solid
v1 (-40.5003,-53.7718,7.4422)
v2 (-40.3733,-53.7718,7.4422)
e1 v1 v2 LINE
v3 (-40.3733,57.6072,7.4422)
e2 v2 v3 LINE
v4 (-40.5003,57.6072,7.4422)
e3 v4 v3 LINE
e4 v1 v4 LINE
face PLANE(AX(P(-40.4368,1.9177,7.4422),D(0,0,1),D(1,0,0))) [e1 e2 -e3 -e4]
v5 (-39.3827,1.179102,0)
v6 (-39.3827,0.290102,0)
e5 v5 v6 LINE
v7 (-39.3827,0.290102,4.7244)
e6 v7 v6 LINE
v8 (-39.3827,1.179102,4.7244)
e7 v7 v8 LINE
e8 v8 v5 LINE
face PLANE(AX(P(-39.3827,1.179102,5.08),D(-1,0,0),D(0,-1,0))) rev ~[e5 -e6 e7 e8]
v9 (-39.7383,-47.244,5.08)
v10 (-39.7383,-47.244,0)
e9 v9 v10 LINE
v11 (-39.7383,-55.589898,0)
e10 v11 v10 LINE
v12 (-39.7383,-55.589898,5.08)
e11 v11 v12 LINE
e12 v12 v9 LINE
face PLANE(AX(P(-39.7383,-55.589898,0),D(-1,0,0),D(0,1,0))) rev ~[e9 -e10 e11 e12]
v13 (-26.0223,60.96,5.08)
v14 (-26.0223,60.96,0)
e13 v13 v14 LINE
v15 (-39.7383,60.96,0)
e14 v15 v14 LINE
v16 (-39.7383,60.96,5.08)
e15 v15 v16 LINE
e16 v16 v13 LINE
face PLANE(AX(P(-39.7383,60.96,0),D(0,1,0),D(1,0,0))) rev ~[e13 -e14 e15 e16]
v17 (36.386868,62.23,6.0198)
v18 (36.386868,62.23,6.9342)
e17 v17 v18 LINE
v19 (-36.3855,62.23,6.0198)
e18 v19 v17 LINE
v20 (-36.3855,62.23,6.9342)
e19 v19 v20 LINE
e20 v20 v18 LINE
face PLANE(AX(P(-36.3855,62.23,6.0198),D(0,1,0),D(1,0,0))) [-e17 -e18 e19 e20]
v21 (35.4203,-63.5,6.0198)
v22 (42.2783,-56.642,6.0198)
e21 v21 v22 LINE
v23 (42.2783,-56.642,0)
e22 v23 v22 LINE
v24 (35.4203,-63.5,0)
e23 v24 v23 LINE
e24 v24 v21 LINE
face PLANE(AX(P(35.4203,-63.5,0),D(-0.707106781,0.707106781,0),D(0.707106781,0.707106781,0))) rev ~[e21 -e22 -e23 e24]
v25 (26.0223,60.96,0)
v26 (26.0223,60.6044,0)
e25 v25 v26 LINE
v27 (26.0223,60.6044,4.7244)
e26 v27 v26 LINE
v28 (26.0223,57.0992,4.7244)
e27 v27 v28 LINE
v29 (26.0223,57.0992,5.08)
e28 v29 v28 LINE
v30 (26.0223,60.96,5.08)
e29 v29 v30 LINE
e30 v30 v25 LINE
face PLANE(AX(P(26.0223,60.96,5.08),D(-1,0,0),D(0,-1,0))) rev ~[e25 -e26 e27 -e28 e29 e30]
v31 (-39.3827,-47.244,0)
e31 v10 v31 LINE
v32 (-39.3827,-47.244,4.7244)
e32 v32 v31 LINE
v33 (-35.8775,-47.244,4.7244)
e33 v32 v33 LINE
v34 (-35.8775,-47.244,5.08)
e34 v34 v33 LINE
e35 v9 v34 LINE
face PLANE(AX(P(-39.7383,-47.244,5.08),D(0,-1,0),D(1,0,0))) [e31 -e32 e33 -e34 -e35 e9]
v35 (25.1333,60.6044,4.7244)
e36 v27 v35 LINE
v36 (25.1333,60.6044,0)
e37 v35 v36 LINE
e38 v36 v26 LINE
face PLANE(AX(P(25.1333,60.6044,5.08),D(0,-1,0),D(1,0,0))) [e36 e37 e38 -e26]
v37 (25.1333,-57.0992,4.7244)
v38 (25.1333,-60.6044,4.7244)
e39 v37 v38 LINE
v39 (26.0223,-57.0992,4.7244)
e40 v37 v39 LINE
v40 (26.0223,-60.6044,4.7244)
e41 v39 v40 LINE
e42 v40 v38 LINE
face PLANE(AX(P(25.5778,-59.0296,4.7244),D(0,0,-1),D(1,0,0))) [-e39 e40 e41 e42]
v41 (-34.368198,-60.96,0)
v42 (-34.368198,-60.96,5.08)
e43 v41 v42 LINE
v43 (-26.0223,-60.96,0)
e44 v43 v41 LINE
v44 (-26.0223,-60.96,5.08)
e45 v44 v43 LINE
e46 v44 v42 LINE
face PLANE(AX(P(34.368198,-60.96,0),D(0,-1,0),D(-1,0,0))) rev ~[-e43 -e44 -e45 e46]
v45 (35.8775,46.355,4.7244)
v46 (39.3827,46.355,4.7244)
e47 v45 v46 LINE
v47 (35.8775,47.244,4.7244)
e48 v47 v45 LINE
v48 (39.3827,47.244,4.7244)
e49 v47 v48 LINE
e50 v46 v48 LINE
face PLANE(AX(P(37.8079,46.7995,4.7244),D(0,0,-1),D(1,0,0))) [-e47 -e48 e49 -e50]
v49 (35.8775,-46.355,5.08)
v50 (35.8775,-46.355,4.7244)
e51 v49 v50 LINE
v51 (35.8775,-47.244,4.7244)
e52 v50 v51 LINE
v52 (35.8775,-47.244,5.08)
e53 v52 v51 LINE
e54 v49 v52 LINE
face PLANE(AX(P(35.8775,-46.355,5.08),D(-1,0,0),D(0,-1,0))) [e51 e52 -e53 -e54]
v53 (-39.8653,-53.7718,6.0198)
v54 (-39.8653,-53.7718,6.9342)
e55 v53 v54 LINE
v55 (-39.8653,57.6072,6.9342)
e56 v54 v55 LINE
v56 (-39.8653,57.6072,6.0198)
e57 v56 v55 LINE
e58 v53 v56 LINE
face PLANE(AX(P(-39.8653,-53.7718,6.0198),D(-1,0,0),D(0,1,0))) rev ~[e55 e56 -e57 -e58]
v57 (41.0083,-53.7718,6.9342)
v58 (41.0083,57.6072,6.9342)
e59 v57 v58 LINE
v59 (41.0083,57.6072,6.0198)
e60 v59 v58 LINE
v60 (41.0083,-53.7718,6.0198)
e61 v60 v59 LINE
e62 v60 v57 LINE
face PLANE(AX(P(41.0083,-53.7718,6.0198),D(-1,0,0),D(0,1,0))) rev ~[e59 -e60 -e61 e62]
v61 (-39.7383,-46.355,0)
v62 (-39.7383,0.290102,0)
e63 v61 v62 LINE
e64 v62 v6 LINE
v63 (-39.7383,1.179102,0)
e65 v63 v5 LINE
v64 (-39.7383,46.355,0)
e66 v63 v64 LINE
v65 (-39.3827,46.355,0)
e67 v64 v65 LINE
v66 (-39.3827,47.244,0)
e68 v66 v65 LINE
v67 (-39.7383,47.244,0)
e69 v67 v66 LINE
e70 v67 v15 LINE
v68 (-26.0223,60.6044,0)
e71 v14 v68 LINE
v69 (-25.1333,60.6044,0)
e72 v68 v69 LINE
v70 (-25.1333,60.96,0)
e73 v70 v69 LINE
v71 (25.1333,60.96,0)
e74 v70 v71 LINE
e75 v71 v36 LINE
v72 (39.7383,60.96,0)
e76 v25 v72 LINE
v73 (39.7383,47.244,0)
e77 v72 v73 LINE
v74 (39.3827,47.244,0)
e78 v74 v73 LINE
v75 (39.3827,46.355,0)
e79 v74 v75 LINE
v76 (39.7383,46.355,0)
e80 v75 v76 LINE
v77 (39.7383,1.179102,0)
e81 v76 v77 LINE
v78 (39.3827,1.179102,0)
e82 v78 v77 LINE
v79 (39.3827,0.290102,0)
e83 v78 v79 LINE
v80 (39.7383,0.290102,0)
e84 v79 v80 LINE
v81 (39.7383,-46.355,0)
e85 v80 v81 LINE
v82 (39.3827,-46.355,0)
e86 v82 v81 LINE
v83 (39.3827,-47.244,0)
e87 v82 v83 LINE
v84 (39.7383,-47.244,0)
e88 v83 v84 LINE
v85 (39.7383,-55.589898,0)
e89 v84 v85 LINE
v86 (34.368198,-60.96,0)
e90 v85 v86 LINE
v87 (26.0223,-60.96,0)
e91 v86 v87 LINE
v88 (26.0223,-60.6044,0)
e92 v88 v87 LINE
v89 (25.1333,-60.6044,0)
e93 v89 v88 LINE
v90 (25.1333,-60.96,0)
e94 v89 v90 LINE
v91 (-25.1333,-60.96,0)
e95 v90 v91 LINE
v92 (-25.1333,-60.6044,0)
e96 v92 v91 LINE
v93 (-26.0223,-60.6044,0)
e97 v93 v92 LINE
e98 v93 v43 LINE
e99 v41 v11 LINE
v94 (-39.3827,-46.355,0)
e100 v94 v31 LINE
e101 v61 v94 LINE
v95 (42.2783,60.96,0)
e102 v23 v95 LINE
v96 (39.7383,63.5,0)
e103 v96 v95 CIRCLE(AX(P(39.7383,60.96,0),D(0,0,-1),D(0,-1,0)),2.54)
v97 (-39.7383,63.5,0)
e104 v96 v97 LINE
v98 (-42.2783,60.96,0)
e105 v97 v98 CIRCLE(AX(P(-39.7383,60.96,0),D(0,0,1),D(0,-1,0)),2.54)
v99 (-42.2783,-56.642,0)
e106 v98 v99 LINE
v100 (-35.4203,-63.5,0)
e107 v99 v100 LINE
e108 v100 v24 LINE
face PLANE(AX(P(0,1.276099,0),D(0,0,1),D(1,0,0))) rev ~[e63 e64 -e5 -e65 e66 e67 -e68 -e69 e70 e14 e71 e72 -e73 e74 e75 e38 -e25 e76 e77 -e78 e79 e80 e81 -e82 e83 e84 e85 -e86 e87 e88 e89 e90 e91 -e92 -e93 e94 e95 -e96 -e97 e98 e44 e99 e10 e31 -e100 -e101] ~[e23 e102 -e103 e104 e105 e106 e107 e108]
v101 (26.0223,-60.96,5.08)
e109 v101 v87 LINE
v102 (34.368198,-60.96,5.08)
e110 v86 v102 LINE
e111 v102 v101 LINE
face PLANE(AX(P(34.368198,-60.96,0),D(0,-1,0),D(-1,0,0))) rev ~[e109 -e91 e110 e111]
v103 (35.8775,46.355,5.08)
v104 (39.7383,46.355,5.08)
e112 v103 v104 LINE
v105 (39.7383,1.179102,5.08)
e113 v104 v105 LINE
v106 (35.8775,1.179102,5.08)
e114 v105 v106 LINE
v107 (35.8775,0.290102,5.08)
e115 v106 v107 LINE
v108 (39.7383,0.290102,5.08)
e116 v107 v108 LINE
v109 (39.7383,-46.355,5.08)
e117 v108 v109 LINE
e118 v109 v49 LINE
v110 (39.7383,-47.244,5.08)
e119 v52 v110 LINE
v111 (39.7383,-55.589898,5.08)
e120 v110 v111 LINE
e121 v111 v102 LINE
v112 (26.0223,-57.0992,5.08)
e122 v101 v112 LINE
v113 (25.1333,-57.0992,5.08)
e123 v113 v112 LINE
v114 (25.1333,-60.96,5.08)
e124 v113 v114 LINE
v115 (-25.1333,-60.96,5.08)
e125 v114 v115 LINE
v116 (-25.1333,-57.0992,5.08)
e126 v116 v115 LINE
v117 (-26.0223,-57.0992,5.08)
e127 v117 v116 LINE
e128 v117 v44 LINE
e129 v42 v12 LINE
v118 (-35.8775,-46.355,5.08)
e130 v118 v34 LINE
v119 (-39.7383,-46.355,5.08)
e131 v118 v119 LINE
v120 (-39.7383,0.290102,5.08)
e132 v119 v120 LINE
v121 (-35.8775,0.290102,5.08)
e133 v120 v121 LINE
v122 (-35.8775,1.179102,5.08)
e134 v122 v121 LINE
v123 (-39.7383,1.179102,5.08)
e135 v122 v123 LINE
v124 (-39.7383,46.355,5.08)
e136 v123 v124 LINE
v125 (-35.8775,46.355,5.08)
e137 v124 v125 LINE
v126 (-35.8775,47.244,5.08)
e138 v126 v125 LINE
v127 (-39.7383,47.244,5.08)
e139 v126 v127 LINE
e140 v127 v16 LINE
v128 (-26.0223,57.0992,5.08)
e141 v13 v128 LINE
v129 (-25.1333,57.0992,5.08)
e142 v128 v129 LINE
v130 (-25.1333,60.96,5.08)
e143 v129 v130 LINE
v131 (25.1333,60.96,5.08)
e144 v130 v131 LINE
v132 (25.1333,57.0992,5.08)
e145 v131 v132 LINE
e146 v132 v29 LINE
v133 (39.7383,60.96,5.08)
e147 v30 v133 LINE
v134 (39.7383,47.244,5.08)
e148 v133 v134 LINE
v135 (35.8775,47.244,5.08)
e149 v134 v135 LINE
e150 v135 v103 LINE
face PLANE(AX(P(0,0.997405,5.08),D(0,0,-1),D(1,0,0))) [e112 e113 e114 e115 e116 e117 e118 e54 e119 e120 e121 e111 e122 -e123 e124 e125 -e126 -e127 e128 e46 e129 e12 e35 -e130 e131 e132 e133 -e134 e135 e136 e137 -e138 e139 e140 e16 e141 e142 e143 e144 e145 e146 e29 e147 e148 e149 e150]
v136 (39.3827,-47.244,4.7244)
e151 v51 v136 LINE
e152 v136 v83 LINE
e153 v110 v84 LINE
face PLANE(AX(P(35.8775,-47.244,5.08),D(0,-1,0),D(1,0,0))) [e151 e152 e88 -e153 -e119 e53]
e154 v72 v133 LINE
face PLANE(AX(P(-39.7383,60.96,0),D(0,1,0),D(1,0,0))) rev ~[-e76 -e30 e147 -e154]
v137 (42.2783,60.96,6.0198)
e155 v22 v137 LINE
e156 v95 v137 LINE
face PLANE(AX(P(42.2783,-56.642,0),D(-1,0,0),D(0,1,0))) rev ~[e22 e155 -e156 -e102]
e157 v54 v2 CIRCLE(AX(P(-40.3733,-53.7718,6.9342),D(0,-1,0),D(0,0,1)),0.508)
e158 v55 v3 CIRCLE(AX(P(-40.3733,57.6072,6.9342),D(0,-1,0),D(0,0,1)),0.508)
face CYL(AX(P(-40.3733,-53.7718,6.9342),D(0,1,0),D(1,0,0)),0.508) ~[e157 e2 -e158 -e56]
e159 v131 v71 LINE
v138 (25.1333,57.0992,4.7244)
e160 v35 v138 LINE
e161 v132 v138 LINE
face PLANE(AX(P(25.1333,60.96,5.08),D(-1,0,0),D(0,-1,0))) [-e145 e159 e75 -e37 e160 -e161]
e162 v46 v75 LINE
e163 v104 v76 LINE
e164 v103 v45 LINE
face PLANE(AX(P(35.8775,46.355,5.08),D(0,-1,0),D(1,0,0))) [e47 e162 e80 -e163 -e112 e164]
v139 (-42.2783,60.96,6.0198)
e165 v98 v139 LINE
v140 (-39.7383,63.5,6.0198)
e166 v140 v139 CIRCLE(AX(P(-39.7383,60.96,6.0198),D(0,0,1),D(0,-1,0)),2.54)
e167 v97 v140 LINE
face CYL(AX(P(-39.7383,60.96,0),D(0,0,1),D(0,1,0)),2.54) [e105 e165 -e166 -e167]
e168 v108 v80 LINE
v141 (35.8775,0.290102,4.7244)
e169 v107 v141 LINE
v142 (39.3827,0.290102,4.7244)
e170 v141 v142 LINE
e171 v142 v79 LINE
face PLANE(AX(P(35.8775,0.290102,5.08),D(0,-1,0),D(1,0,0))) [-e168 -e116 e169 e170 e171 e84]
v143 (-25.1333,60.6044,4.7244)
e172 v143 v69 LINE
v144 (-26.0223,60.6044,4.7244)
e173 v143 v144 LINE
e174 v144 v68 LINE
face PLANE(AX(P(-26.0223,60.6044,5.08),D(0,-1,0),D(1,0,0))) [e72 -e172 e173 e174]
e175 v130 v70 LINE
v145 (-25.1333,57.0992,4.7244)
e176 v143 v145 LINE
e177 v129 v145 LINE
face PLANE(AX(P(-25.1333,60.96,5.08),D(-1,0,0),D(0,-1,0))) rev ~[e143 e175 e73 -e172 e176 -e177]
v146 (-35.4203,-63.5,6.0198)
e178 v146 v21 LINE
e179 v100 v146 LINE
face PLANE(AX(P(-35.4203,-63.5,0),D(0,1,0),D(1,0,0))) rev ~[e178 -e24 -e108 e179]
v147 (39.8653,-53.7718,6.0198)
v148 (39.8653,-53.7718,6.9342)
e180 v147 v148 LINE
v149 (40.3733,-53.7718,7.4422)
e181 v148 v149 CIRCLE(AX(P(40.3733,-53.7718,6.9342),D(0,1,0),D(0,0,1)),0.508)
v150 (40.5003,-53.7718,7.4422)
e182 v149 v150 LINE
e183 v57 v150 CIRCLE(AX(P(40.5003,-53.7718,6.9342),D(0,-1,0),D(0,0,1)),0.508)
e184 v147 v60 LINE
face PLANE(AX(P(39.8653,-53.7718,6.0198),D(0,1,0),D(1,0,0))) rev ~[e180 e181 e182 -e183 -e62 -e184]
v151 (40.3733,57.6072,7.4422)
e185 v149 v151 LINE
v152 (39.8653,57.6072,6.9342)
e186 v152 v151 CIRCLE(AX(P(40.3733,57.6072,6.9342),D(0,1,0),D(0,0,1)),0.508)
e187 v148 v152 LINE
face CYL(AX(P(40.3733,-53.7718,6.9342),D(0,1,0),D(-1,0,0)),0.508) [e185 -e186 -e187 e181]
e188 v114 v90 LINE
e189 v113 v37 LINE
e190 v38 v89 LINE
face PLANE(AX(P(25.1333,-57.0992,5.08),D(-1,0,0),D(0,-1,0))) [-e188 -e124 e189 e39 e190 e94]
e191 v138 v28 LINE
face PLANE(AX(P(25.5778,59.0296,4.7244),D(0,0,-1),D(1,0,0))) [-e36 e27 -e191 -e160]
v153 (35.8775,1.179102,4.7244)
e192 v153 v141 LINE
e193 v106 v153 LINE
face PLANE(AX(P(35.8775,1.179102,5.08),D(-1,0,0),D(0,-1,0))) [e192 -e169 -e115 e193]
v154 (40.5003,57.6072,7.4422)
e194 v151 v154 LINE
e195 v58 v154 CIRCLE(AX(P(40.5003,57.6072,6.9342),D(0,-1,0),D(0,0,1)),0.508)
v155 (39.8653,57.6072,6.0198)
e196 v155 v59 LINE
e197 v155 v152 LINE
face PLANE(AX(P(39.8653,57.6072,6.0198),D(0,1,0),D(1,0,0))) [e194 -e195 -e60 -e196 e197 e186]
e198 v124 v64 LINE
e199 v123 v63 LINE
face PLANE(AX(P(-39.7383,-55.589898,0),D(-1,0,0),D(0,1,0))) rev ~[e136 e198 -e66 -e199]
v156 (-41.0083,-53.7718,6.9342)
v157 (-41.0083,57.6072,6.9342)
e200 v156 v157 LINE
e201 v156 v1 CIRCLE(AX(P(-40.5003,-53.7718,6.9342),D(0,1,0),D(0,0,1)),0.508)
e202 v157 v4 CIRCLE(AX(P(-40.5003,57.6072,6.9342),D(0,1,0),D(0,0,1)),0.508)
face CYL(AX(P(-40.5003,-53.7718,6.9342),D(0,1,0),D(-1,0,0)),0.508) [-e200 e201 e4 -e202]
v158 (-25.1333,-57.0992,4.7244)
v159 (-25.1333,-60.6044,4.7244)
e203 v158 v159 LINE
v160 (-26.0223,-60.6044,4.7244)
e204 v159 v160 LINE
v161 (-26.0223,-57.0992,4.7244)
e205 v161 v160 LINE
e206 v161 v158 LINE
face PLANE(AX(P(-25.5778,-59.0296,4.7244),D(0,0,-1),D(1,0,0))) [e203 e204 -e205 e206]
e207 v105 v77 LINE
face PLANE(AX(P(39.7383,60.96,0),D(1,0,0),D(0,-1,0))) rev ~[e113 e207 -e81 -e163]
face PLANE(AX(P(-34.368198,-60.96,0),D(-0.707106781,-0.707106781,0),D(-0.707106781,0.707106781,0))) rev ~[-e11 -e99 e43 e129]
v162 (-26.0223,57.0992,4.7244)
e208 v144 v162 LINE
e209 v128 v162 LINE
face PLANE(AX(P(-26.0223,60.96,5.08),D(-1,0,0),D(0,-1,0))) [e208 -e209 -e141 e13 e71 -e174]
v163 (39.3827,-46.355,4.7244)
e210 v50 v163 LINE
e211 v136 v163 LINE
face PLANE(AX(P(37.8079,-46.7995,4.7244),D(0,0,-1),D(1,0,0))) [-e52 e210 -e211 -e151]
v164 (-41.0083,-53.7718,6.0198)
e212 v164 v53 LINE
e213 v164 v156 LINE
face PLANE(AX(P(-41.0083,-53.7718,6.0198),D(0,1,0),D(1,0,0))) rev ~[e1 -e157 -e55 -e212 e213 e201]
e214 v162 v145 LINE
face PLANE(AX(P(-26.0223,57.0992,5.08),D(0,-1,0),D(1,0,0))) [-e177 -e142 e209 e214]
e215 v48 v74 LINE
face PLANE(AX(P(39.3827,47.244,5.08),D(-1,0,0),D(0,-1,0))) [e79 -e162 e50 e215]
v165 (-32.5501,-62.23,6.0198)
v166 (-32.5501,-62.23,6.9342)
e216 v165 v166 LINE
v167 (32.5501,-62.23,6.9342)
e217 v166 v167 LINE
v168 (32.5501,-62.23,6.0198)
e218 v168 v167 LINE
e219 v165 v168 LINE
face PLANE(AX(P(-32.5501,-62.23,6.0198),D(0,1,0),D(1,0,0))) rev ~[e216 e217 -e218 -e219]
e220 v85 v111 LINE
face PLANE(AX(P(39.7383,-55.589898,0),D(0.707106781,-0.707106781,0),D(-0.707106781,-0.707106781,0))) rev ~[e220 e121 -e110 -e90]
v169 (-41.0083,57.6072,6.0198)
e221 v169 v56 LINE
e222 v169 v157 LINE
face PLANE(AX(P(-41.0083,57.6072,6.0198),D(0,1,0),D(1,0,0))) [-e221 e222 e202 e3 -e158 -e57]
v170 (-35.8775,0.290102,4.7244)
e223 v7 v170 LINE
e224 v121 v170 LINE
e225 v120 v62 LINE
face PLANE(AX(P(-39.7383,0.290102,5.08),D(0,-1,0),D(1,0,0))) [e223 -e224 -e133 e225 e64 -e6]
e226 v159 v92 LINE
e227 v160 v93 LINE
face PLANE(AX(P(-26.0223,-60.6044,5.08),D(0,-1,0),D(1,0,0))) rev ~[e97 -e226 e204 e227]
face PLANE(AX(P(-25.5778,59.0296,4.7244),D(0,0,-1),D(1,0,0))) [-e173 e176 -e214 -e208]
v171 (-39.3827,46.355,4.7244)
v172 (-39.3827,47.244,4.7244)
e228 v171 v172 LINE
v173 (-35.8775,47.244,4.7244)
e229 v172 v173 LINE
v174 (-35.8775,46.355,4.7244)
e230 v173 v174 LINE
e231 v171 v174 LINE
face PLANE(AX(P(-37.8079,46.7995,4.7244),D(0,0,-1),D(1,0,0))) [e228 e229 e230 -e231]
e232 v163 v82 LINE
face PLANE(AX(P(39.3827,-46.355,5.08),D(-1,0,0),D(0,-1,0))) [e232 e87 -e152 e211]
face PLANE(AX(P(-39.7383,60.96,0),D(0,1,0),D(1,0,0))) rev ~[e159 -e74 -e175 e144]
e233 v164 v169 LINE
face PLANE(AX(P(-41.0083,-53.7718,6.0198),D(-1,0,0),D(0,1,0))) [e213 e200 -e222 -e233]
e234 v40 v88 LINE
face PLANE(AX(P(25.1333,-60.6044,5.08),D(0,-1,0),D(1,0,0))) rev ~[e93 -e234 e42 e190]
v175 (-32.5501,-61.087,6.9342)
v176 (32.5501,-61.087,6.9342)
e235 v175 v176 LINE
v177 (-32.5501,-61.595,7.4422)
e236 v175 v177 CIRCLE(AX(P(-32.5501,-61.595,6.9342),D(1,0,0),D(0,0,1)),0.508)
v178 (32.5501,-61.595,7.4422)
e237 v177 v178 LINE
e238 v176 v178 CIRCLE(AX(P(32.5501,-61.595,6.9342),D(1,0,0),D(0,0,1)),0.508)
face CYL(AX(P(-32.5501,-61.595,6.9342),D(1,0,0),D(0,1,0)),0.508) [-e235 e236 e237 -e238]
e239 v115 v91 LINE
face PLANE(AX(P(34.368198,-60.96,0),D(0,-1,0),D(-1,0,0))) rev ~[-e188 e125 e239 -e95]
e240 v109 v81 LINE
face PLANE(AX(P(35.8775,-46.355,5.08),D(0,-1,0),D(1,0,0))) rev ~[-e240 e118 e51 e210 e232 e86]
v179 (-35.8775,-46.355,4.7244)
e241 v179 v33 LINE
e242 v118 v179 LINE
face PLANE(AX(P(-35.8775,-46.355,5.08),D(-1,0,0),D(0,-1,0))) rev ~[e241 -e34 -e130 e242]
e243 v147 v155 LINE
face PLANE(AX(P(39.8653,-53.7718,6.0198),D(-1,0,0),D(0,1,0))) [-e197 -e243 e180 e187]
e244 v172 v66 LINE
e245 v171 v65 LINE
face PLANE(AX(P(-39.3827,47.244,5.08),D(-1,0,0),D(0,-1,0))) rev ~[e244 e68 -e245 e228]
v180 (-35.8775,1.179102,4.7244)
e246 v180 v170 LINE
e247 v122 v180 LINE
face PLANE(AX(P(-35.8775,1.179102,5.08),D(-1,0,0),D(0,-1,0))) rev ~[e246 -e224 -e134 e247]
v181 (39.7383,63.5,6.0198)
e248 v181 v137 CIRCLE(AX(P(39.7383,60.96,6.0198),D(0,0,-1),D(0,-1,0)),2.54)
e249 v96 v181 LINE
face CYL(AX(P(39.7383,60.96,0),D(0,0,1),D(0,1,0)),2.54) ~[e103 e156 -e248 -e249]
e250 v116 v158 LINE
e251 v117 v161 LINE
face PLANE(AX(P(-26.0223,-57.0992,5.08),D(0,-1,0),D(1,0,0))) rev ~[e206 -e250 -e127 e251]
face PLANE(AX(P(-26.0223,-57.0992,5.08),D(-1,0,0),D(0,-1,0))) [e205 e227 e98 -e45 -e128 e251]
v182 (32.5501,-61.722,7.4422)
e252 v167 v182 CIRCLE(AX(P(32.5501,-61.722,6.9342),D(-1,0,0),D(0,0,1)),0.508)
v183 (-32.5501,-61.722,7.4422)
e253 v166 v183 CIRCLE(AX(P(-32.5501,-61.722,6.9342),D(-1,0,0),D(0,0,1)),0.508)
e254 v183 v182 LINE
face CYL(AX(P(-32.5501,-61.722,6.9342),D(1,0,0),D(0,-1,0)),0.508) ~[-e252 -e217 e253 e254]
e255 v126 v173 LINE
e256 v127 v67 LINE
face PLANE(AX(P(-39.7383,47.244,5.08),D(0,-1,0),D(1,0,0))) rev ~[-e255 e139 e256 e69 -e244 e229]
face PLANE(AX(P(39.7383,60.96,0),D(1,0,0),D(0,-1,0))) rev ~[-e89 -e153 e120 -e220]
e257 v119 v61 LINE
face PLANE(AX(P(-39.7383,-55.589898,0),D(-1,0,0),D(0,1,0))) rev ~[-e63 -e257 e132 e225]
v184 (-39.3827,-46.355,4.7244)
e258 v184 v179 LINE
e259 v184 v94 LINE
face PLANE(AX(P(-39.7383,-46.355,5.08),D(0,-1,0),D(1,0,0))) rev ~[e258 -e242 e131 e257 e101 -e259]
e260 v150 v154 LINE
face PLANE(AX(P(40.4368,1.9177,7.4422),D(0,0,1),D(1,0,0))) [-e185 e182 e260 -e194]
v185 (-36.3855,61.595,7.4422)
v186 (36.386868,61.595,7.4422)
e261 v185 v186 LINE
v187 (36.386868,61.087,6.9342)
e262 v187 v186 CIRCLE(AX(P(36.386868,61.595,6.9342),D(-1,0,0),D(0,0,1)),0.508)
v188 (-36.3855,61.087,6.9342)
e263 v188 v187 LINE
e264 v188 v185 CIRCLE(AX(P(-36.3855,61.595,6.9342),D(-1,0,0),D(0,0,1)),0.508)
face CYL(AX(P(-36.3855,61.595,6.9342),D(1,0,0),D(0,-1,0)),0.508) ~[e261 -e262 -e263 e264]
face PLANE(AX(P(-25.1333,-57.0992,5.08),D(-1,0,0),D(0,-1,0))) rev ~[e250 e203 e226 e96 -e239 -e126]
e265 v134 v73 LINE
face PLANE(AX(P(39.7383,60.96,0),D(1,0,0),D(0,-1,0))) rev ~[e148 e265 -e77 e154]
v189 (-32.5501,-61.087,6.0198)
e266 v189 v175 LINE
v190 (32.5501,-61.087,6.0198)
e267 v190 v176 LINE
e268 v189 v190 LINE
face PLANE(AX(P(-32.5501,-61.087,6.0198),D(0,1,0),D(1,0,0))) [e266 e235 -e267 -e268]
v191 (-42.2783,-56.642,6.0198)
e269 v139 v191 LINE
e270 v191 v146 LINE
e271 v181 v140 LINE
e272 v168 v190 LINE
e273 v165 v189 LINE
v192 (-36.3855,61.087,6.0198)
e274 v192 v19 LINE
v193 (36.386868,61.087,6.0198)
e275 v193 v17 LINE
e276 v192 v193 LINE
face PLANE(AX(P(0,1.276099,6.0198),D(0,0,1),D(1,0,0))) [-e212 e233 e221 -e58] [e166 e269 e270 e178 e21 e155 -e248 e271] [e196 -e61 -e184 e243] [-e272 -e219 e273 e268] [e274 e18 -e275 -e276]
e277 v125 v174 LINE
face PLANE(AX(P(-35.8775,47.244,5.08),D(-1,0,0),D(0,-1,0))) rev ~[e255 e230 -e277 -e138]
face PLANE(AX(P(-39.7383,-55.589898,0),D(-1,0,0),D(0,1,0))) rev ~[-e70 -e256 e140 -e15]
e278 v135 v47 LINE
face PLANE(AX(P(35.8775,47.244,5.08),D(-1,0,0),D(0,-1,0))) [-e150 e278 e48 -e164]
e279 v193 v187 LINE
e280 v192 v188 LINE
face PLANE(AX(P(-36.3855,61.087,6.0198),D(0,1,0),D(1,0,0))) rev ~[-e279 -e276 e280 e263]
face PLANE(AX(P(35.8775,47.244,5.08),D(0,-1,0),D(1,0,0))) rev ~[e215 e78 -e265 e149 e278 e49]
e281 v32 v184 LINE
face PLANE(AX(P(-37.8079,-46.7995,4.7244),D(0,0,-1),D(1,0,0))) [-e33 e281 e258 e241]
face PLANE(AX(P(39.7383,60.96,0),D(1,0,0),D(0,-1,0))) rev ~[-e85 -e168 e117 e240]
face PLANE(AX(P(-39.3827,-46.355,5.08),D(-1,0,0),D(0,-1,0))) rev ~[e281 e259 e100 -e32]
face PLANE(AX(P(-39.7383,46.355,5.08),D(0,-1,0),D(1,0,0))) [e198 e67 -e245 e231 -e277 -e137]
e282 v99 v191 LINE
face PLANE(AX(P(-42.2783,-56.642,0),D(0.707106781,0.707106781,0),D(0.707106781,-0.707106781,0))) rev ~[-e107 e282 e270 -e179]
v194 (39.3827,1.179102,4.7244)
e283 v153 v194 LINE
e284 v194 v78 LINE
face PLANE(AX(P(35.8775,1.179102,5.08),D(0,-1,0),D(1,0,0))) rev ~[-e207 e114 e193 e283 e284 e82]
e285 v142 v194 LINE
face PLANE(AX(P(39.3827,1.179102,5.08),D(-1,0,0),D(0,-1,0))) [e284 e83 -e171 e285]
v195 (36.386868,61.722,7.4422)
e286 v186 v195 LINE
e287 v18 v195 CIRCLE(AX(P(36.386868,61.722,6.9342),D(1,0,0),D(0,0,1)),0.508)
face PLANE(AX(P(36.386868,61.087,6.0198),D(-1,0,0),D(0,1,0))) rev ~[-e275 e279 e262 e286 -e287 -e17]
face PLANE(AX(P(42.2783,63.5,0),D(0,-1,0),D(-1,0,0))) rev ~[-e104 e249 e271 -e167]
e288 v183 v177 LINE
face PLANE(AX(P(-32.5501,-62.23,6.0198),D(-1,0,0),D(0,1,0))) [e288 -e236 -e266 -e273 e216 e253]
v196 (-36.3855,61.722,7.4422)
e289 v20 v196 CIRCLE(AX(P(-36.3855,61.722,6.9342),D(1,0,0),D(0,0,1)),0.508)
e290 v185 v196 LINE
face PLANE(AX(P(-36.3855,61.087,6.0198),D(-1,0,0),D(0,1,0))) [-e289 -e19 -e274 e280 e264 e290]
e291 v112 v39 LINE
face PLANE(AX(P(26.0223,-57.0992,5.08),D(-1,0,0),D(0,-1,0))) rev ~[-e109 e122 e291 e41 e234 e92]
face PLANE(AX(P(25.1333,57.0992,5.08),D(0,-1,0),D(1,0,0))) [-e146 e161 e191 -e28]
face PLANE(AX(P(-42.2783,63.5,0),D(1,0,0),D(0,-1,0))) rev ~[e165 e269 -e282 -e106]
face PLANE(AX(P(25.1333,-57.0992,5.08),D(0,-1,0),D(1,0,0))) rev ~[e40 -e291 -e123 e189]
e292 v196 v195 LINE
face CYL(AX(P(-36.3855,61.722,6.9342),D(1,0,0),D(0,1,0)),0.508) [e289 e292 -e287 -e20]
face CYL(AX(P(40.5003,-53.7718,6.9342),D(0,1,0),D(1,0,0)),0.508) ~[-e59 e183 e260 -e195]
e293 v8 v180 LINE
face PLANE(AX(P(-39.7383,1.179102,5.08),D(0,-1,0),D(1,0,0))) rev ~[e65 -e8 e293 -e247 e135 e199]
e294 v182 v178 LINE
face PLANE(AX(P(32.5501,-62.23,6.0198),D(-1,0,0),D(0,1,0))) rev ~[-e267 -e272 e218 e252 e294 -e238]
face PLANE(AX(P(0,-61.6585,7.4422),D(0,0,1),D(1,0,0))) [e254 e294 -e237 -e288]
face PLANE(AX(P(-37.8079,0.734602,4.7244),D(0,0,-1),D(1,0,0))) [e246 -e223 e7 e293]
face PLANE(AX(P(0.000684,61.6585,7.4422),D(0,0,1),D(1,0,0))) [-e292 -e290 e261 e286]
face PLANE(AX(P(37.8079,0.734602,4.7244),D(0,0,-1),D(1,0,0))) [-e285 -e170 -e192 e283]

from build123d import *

# Parameters (mm, degrees)
F1_DEPTH  = 6.0198
F2_R      = 2.54
F4_DEPTH  = 5.08
F5_W      = 3.8608
F5_H      = 0.889
F5_W_2    = 0.889
F5_H_2    = 3.8608
F6_DEPTH  = 0.3556
F7_W      = 0.889
F7_H      = 0.3556
F7_W_2    = 0.3556
F7_H_2    = 0.889
F8_DEPTH  = 5.08
F9_W      = 1.143
F9_H      = 111.379
F9_W_2    = 65.1002
F9_H_2    = 1.143
F9_W_3    = 72.772369
F10_DEPTH = 1.4224
F11_R     = 0.508


with BuildPart() as f1:
    # F0 (on Top) → F1 (new body)
    with BuildSketch(Plane.XY):
        Polygon((42.2783, 63.5), (-42.2783, 63.5), (-42.2783, -56.642), (-35.4203, -63.5), (35.4203, -63.5), (42.2783, -56.642), align=None)
    extrude(amount=F1_DEPTH)

    # F2
    f2_edges = [f1.edges().sort_by_distance(p)[0] for p in [
        (-42.2783, 63.5, 3.0099),
        (42.2783, 63.5, 3.0099),
    ]]
    fillet(f2_edges, radius=F2_R)

    # F3 (on face) → F4 (cut)
    with BuildSketch(Plane(origin=(0, 0, 0), x_dir=(1, 0, 0), z_dir=(0, 0, -1))):
        Polygon((-39.7383, 55.589898), (-39.7383, -60.96), (39.7383, -60.96), (39.7383, 55.589898), (34.368198, 60.96), (-34.368198, 60.96), align=None)
    extrude(amount=-F4_DEPTH, mode=Mode.SUBTRACT)

    # F5 (on face) → F6 (join)
    with BuildSketch(Plane(origin=(0, 0, 5.08), x_dir=(1, 0, 0), z_dir=(0, 0, -1))):
        with Locations((37.8079, 46.7995)):
            Rectangle(F5_W, F5_H)
        with Locations((37.8079, -0.734602)):
            Rectangle(F5_W, F5_H)
        with Locations((37.8079, -46.7995)):
            Rectangle(F5_W, F5_H)
        with Locations((25.5778, -59.0296)):
            Rectangle(F5_W_2, F5_H_2)
        with Locations((-25.5778, -59.0296)):
            Rectangle(F5_W_2, F5_H_2)
        with Locations((-37.8079, -46.7995)):
            Rectangle(F5_W, F5_H)
        with Locations((-37.8079, -0.734602)):
            Rectangle(F5_W, F5_H)
        with Locations((-37.8079, 46.7995)):
            Rectangle(F5_W, F5_H)
        with Locations((-25.5778, 59.0296)):
            Rectangle(F5_W_2, F5_H_2)
        with Locations((25.5778, 59.0296)):
            Rectangle(F5_W_2, F5_H_2)
    extrude(amount=F6_DEPTH)

    # F7 (on face) → F8 (join)
    with BuildSketch(Plane(origin=(0, 0, 5.08), x_dir=(1, 0, 0), z_dir=(0, 0, -1))):
        with Locations((-25.5778, 60.7822)):
            Rectangle(F7_W, F7_H)
        with Locations((25.5778, 60.7822)):
            Rectangle(F7_W, F7_H)
        with Locations((39.5605, 46.7995)):
            Rectangle(F7_W_2, F7_H_2)
        with Locations((39.5605, -0.734602)):
            Rectangle(F7_W_2, F7_H_2)
        with Locations((-39.5605, 46.7995)):
            Rectangle(F7_W_2, F7_H_2)
        with Locations((-39.5605, -0.734602)):
            Rectangle(F7_W_2, F7_H_2)
        with Locations((-39.5605, -46.7995)):
            Rectangle(F7_W_2, F7_H_2)
        with Locations((-25.5778, -60.7822)):
            Rectangle(F7_W, F7_H)
        with Locations((25.5778, -60.7822)):
            Rectangle(F7_W, F7_H)
        with Locations((39.5605, -46.7995)):
            Rectangle(F7_W_2, F7_H_2)
    extrude(amount=F8_DEPTH)

    # F9 (on face) → F10 (join)
    with BuildSketch(Plane.XY.offset(6.0198)):
        with Locations((-40.4368, 1.9177)):
            Rectangle(F9_W, F9_H)
        with Locations((0, -61.6585)):
            Rectangle(F9_W_2, F9_H_2)
        with Locations((40.4368, 1.9177)):
            Rectangle(F9_W, F9_H)
        with Locations((0.000684, 61.6585)):
            Rectangle(F9_W_3, F9_H_2)
    extrude(amount=F10_DEPTH)

    # F11
    f11_edges = [f1.edges().sort_by_distance(p)[0] for p in [
        (-41.0083, 1.9177, 7.4422),
        (-39.8653, 1.9177, 7.4422),
        (0.000684, 61.087, 7.4422),
        (0.000684, 62.23, 7.4422),
        (39.8653, 1.9177, 7.4422),
        (41.0083, 1.9177, 7.4422),
        (0, -61.087, 7.4422),
        (0, -62.23, 7.4422),
    ]]
    fillet(f11_edges, radius=F11_R)


solid = f1.part
